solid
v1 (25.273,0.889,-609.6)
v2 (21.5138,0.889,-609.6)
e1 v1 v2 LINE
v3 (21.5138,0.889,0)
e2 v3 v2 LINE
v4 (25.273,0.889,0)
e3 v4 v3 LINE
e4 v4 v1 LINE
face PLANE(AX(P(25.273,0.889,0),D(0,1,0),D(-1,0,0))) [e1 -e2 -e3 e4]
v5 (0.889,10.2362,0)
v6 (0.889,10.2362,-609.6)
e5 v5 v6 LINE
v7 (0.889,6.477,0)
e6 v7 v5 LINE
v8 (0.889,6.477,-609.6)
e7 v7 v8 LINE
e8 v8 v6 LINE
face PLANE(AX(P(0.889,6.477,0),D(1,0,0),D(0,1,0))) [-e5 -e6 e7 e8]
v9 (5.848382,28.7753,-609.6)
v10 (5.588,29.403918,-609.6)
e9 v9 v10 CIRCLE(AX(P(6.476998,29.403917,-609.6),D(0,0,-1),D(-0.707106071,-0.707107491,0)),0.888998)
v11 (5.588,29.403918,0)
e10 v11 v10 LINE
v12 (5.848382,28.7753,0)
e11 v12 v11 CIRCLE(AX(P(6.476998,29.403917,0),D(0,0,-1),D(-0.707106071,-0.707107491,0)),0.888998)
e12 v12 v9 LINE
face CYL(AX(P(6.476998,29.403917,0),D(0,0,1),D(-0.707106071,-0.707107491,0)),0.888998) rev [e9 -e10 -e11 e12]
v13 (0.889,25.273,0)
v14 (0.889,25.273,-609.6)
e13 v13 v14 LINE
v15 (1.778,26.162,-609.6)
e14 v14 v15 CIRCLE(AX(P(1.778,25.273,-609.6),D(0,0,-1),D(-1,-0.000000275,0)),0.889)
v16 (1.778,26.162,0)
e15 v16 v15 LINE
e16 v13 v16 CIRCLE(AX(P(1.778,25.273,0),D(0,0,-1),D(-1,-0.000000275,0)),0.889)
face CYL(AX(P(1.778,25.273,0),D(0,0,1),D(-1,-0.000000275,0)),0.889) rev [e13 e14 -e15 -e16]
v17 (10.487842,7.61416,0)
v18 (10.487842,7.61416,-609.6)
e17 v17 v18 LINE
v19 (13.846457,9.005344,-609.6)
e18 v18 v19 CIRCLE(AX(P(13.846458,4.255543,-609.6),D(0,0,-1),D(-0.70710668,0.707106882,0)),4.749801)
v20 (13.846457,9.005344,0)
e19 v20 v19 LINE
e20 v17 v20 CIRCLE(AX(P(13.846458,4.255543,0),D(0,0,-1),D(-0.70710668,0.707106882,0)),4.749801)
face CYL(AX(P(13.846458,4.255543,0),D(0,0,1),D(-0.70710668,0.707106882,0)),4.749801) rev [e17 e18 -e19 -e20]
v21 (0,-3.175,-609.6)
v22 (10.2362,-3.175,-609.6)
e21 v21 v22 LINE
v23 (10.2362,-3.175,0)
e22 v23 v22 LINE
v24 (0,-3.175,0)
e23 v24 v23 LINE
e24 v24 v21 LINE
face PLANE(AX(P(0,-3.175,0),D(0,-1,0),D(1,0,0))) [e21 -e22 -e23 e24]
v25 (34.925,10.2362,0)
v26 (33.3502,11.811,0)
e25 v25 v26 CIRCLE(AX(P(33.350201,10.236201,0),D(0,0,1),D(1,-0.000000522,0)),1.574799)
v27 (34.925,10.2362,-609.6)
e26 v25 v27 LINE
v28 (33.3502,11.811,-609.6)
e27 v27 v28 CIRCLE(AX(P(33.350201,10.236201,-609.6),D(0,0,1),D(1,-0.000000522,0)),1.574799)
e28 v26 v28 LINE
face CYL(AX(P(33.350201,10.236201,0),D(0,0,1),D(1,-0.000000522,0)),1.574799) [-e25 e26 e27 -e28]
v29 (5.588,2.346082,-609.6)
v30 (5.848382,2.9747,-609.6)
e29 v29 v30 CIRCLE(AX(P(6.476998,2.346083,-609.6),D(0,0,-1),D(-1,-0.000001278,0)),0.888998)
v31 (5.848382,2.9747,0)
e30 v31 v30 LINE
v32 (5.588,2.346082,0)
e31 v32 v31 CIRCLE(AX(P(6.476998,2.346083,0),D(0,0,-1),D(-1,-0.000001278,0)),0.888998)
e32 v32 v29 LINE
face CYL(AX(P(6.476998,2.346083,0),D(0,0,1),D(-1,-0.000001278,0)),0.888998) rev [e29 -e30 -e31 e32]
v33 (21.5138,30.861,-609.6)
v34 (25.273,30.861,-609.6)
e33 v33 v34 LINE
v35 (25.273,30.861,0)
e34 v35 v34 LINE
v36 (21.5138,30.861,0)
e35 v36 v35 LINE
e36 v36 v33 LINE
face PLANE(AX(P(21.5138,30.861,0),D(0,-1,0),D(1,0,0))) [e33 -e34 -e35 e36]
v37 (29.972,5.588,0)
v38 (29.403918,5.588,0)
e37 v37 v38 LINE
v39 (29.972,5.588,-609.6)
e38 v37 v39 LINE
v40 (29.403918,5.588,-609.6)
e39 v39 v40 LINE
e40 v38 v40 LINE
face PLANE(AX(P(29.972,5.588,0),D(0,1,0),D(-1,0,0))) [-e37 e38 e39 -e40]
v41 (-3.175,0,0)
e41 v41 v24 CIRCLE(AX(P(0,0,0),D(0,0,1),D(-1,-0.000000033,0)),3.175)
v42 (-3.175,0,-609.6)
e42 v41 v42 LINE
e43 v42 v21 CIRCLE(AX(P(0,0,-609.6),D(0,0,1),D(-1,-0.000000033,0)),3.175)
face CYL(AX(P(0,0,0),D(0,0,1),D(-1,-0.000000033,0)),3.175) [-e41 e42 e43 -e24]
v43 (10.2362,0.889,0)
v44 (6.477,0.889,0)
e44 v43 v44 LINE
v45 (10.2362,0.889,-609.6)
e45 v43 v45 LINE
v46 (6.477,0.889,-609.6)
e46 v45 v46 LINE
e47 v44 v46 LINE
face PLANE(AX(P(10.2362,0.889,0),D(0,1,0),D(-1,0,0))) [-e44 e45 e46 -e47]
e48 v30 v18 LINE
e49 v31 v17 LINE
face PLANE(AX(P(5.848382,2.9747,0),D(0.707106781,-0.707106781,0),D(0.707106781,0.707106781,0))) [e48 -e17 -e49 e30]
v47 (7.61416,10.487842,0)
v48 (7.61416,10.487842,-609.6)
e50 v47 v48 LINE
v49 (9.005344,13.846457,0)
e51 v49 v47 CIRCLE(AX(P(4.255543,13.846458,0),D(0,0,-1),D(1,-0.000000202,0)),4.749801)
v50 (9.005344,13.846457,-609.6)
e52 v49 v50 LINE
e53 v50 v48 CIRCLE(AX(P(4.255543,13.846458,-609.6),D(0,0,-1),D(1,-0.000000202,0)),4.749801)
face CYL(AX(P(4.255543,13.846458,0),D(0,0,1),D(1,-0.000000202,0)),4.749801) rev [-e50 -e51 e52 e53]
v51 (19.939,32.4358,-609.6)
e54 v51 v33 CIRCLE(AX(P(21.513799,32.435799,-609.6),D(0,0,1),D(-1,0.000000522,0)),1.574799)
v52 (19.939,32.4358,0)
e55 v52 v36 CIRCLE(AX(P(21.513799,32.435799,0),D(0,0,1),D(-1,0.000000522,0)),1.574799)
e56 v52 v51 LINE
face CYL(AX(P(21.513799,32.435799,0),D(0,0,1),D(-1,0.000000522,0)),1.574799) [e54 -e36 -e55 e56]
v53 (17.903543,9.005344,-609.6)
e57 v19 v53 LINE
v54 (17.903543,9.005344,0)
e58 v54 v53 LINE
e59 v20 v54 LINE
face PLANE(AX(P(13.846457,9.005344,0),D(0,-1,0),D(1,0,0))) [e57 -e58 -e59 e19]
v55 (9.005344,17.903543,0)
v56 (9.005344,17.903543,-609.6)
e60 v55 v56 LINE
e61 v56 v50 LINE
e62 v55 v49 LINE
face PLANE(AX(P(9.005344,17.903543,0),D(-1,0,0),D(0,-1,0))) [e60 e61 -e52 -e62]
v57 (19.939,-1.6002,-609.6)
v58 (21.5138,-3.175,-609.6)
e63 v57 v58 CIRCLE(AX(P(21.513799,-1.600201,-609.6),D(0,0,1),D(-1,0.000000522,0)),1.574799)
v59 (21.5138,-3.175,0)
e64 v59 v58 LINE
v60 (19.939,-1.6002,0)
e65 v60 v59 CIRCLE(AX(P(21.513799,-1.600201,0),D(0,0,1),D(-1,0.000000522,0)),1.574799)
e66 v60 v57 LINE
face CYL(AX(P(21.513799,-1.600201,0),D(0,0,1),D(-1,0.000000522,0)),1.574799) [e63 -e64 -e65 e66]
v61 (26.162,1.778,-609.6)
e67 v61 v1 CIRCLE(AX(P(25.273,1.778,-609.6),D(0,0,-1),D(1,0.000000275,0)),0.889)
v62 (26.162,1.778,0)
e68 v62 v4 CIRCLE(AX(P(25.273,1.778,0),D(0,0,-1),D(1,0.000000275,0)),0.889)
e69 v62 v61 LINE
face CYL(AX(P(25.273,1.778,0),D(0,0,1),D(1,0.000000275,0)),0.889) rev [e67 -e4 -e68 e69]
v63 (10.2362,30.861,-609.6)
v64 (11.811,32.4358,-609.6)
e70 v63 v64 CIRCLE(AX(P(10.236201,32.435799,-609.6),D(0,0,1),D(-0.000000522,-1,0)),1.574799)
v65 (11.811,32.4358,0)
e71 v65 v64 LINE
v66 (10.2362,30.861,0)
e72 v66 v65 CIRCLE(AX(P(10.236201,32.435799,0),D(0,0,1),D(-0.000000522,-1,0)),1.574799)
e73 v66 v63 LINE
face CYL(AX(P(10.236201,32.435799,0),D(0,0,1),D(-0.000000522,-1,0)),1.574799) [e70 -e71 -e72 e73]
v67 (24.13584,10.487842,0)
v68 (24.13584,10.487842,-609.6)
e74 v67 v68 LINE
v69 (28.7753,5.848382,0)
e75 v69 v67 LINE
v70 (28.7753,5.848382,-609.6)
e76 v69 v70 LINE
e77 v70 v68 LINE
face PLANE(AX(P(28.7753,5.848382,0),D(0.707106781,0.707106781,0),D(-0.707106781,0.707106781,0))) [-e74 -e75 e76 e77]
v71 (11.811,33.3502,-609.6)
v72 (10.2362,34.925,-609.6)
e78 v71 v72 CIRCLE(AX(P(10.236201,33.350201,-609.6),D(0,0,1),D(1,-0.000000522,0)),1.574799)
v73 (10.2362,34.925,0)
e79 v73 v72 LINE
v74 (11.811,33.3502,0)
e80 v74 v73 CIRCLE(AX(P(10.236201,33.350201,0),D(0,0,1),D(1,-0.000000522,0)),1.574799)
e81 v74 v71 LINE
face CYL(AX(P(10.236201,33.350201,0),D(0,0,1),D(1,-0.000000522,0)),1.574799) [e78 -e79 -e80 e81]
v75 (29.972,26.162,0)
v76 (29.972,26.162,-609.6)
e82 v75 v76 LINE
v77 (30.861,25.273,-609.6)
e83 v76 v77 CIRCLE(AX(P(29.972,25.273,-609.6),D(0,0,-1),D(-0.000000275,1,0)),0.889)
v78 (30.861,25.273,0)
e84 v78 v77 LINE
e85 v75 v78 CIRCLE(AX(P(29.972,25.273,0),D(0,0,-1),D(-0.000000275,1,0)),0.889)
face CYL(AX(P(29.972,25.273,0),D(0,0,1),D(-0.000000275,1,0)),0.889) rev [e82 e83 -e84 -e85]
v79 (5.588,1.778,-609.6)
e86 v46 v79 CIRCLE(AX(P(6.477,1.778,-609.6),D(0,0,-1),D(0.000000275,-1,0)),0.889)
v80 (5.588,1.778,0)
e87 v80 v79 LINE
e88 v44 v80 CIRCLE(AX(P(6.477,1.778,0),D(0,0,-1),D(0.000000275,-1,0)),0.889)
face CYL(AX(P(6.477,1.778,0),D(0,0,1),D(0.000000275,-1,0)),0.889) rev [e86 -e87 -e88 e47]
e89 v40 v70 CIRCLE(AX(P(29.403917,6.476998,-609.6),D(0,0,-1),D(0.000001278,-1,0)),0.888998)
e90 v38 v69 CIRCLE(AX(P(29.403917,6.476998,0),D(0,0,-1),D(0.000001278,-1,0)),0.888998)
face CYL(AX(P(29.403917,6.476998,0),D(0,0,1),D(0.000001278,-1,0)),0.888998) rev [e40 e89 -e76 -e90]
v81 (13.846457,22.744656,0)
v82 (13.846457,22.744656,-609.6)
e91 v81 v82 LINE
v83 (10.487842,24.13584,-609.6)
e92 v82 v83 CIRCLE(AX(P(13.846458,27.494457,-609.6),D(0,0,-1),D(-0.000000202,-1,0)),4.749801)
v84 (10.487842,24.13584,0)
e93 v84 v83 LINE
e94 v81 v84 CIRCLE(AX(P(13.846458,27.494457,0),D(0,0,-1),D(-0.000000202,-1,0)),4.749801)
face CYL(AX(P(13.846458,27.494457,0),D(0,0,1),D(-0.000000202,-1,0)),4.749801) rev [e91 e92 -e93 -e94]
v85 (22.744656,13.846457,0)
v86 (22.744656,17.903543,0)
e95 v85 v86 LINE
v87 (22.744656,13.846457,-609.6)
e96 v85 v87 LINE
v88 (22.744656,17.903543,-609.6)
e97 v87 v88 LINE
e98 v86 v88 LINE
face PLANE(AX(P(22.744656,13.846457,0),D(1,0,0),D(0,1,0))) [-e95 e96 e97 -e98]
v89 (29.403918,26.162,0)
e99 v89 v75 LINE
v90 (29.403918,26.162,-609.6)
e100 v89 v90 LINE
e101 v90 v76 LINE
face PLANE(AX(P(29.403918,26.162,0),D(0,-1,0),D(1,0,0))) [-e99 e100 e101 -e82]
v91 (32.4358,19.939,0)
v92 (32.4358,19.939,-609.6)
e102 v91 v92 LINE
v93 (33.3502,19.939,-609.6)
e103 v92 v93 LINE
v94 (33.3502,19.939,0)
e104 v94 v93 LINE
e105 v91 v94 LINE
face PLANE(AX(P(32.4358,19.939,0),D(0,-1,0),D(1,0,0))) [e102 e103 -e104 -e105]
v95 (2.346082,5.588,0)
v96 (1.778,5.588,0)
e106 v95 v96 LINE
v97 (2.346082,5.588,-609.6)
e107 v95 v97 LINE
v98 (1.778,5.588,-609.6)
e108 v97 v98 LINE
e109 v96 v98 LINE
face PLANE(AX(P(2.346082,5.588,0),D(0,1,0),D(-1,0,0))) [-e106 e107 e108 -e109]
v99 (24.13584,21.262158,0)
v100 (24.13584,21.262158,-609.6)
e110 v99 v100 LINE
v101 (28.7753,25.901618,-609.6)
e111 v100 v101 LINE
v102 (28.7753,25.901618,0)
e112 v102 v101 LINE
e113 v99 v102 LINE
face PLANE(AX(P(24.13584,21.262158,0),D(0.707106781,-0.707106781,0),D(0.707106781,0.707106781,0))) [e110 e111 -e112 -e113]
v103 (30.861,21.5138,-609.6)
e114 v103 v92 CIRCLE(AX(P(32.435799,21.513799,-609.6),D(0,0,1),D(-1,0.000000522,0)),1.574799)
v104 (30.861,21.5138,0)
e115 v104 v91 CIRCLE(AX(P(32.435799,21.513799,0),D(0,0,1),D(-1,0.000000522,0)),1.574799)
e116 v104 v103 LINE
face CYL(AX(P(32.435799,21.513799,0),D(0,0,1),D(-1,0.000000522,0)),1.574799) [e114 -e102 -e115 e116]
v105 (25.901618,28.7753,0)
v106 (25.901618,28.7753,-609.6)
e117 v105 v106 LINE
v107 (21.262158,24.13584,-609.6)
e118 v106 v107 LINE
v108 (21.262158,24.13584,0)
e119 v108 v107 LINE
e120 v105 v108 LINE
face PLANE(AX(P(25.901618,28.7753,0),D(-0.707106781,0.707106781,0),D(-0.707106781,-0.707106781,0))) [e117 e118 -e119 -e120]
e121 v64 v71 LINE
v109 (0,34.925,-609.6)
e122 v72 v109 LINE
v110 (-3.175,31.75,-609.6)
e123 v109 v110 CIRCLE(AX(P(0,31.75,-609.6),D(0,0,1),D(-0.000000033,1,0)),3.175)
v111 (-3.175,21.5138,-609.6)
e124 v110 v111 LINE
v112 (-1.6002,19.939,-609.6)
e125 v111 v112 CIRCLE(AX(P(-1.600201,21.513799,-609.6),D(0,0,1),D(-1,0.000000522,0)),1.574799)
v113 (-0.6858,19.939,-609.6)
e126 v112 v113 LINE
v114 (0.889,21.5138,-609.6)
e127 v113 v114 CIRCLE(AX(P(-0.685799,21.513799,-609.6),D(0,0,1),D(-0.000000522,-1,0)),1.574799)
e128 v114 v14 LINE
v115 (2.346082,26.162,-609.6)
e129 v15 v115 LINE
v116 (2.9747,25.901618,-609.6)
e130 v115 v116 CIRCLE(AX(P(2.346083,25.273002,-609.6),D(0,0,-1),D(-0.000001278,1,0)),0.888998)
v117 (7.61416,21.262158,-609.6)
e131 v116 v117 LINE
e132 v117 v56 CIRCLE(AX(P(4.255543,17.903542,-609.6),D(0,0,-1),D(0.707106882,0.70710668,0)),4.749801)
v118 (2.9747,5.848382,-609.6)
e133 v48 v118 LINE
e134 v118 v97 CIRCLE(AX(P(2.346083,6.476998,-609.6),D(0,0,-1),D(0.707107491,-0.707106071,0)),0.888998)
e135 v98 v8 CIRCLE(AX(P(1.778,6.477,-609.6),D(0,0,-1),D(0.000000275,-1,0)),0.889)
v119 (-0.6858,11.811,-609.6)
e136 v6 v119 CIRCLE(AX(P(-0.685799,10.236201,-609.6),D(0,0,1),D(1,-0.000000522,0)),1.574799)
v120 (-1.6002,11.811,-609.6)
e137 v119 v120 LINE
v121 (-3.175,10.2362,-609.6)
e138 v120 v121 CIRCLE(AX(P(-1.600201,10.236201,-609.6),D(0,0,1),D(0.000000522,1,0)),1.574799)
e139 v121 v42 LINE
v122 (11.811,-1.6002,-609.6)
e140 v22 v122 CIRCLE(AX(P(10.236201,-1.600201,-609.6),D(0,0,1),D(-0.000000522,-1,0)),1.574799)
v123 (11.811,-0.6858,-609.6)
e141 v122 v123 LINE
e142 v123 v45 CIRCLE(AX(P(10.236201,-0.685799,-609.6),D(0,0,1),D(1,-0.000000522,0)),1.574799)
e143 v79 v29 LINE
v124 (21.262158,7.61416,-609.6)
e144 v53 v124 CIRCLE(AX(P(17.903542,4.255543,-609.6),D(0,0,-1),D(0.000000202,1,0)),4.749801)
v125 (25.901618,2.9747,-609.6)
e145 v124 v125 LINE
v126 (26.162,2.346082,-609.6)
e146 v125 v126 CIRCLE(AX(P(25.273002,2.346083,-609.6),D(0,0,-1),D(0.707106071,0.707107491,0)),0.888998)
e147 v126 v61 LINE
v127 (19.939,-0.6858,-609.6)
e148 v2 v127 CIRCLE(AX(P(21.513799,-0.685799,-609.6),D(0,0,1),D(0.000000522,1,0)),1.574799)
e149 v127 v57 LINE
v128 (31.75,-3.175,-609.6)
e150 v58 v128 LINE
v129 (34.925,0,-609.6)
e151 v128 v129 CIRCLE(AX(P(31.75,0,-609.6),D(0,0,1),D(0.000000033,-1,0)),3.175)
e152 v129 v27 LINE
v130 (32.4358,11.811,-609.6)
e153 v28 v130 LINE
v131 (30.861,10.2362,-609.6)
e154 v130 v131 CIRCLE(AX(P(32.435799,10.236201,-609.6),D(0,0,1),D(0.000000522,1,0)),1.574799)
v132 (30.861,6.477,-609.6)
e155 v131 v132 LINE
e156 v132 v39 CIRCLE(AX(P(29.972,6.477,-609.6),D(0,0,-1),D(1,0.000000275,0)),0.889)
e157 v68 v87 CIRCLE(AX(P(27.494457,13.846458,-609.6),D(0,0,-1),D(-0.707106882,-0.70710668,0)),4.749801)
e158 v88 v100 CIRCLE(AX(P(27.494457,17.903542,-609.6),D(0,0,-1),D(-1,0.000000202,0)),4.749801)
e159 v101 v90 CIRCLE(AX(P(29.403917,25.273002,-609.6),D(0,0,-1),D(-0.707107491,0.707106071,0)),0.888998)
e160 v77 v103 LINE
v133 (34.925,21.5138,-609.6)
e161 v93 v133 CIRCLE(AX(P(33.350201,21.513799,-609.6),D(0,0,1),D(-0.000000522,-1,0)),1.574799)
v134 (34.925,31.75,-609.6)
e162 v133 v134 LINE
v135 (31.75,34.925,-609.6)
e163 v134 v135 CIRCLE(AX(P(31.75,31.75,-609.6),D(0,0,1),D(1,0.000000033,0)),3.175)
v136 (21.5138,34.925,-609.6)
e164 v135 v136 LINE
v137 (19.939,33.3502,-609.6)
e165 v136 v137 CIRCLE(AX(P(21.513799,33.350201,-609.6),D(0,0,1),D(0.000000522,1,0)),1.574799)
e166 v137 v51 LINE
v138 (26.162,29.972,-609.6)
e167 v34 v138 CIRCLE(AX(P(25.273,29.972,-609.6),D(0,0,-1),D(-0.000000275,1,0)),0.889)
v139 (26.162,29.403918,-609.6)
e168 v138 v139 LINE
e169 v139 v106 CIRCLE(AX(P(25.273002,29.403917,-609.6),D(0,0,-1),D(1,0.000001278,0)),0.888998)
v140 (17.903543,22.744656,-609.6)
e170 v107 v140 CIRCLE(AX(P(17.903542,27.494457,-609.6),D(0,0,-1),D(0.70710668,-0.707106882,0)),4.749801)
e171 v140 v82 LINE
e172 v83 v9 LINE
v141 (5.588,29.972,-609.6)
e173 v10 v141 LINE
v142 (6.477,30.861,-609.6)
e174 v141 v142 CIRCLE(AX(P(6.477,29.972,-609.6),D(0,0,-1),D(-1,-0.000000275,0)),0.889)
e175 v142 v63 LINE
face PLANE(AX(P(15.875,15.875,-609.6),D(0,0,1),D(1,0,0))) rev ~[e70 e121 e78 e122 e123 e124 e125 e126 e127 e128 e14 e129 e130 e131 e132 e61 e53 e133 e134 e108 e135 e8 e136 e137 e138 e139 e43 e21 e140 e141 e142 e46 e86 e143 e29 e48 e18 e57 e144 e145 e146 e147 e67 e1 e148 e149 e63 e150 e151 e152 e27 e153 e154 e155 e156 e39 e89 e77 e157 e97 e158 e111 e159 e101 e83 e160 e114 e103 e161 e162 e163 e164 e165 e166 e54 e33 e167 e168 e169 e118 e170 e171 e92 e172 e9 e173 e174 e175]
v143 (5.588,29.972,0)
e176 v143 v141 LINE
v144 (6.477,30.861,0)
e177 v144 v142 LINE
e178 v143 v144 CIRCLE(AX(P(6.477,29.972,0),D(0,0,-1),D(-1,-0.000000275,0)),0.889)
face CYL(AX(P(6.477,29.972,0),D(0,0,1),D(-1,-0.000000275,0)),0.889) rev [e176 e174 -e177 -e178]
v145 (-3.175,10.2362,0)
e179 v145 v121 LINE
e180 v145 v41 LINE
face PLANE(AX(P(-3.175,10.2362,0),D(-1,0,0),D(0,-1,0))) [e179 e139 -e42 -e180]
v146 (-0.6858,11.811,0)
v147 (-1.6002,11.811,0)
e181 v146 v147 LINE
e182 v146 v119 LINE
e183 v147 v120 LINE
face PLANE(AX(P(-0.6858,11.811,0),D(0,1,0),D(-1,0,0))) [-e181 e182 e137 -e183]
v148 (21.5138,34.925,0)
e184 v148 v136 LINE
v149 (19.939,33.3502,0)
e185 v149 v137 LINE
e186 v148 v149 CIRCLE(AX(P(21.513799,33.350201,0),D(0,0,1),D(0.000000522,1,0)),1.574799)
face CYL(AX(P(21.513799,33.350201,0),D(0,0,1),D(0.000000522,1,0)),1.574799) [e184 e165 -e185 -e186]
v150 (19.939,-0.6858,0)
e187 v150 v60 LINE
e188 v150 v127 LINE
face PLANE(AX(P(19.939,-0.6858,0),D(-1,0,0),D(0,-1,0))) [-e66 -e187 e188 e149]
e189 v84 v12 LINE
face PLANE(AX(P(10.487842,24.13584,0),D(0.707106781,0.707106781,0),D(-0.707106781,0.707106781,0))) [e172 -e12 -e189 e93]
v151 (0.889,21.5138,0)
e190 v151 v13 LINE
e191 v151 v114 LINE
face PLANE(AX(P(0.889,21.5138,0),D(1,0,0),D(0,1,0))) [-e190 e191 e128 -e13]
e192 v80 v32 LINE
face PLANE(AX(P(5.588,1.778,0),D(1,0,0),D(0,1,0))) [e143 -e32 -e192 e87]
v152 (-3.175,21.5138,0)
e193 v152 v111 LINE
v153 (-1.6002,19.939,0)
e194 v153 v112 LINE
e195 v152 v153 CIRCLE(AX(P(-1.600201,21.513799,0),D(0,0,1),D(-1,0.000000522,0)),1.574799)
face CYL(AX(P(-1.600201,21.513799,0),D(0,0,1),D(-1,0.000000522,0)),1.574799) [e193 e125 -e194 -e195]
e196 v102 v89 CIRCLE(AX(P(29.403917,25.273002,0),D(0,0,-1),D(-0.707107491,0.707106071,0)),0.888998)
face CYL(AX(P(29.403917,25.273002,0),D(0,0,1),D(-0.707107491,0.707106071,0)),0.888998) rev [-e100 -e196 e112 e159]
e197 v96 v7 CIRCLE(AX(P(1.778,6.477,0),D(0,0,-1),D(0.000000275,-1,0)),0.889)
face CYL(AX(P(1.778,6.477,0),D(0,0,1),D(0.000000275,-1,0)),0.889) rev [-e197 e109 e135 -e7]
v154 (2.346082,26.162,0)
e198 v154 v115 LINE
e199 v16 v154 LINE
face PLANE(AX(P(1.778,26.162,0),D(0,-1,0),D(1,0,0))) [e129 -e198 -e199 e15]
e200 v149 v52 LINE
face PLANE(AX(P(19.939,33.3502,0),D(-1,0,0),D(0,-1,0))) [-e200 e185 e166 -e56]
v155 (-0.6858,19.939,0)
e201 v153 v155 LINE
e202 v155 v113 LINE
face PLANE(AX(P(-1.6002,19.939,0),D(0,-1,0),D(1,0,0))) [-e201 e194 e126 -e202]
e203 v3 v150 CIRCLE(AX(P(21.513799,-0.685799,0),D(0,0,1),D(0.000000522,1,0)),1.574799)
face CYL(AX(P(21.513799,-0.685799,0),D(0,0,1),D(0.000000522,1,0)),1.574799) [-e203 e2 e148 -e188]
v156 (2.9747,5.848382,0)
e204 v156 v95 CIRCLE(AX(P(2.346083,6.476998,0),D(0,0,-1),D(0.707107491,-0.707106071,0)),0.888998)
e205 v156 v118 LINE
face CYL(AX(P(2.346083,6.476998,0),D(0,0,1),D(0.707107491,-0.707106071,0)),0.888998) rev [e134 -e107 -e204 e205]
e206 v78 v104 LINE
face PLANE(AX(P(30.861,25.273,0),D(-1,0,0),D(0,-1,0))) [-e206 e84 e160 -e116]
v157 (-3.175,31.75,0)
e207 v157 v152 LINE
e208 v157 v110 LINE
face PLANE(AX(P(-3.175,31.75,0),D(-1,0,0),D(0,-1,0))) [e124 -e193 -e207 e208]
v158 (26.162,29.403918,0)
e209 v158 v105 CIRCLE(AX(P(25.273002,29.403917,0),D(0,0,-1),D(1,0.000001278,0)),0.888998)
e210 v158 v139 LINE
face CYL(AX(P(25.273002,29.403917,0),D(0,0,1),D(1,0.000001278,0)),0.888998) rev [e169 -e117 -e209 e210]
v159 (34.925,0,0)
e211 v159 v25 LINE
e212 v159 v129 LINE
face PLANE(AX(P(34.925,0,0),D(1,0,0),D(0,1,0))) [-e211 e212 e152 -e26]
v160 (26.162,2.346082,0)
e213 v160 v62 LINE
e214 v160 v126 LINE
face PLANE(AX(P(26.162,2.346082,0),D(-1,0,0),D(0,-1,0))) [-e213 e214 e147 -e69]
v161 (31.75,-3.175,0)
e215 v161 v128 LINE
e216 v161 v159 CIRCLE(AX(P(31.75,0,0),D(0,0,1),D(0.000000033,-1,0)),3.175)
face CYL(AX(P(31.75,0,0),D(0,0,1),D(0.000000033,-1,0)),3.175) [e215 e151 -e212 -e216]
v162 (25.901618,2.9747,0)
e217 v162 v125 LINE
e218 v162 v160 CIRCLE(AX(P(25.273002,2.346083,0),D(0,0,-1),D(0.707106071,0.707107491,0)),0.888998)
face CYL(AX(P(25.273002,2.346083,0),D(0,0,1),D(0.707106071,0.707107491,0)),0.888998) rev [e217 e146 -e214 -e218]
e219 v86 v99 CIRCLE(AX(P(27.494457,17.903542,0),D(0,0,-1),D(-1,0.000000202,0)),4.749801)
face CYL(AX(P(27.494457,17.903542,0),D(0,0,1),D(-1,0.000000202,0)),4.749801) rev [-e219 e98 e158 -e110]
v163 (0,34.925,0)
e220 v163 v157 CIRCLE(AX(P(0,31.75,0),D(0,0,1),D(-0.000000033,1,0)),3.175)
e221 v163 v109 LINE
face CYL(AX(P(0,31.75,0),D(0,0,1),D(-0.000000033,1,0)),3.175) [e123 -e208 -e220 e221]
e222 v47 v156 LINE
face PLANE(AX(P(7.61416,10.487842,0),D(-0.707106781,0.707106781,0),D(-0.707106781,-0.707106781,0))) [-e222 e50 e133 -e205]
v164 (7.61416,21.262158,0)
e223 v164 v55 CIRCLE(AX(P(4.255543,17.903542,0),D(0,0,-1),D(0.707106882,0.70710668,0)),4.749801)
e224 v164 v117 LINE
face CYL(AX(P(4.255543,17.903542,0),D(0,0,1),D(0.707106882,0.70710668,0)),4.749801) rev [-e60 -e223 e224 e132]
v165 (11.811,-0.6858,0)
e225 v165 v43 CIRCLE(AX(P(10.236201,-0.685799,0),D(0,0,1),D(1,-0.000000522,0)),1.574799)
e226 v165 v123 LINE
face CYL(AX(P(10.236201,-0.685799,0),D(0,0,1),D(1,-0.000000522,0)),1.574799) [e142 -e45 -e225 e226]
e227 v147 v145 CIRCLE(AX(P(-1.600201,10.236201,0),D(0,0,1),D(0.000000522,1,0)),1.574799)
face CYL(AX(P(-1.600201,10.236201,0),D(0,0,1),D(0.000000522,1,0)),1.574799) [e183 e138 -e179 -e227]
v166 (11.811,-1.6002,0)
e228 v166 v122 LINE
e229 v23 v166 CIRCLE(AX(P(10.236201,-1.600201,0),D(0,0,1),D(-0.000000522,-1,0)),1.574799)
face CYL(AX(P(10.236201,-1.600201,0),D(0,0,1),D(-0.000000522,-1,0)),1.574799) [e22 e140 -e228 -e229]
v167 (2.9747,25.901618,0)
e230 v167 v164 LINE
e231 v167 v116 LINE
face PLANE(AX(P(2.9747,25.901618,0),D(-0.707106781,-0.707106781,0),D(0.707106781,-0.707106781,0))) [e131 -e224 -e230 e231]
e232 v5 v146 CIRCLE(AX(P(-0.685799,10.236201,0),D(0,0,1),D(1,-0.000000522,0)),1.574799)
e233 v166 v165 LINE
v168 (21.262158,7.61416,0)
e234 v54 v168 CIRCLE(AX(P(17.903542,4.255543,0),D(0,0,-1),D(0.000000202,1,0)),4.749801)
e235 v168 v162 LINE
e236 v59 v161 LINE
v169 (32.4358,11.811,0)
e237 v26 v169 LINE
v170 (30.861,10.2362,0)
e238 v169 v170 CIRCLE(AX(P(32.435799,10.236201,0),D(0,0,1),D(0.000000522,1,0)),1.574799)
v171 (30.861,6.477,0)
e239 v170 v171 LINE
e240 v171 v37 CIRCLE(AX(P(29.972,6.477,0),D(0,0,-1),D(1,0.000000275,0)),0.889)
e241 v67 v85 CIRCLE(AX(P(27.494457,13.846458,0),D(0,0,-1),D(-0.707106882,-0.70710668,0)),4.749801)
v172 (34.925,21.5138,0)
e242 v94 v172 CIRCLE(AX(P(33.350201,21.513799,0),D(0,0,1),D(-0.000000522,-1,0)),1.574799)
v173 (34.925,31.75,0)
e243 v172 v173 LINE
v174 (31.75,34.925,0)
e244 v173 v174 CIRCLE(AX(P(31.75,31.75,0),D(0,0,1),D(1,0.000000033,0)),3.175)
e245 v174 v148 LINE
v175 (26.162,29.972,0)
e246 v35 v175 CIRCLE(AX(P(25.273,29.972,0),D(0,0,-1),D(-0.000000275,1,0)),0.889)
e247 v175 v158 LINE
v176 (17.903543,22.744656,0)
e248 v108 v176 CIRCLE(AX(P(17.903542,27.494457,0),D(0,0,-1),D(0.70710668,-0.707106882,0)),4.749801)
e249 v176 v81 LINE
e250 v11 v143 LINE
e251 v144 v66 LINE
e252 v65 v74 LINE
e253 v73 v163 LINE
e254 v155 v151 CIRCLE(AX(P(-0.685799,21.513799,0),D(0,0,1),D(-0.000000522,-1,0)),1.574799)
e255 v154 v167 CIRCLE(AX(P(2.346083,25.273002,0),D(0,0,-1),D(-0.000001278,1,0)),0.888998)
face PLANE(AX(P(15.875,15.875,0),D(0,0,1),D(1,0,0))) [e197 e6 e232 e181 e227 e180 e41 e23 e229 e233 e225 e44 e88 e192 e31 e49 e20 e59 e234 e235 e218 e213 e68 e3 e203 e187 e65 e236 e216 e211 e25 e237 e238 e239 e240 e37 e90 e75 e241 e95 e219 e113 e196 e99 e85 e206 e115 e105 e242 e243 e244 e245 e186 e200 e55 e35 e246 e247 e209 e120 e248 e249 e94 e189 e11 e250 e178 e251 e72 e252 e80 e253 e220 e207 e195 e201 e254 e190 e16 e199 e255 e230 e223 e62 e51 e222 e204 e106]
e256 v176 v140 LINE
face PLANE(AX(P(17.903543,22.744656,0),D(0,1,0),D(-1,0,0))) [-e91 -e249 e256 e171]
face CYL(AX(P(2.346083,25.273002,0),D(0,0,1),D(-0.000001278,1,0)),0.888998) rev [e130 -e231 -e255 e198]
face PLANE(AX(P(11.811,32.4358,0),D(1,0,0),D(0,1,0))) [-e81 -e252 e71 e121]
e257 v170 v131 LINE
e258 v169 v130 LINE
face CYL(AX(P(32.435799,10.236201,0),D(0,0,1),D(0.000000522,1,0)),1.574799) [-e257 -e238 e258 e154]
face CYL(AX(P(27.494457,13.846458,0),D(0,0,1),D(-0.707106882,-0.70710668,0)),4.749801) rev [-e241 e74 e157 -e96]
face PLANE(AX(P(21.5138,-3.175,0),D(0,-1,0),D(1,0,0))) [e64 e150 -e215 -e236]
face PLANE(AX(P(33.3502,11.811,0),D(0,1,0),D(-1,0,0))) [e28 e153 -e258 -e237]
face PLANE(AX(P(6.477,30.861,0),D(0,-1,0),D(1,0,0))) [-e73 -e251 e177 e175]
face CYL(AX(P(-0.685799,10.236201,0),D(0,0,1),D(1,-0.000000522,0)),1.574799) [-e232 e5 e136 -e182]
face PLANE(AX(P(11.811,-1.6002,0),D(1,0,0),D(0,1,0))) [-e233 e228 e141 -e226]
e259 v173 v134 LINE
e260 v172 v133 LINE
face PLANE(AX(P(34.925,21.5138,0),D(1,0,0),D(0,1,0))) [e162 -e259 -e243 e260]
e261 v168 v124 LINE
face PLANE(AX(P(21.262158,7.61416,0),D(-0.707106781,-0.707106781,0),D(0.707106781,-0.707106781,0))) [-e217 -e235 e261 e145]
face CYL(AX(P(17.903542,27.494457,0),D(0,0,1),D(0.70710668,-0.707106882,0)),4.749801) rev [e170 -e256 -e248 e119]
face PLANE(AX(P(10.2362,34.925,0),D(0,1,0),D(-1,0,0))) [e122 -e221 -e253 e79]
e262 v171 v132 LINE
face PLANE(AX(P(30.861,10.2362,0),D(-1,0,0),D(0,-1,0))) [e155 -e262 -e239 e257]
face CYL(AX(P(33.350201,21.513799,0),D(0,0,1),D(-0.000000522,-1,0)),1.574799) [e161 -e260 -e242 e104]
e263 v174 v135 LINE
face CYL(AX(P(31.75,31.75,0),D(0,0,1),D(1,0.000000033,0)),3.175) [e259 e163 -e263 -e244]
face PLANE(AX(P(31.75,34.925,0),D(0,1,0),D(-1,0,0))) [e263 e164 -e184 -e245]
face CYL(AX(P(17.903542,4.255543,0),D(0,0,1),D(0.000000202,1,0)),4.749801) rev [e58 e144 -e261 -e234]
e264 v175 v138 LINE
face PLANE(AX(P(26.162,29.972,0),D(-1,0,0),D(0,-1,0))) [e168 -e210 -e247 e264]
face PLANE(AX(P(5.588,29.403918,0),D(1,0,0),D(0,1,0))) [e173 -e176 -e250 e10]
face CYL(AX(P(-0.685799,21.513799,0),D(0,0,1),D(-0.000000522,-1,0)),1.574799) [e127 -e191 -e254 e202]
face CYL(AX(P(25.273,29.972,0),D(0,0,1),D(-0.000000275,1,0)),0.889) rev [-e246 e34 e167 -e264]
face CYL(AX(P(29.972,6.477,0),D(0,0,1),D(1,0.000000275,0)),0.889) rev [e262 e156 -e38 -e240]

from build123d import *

# Parameters (mm, degrees)
F1_DEPTH = 609.6


with BuildPart() as f1:
    # F0 (on Top) → F1 (new body)
    with BuildSketch(Plane.XY):
        with BuildLine():
            ThreePointArc((0, 34.925), (-2.245064, 33.995064), (-3.175, 31.75))
            Line((-3.175, 31.75), (-3.175, 21.5138))
            ThreePointArc((-3.175, 21.5138), (-2.713752, 20.400248), (-1.6002, 19.939))
            Line((-1.6002, 19.939), (-0.6858, 19.939))
            ThreePointArc((-0.6858, 19.939), (0.427752, 20.400248), (0.889, 21.5138))
            Line((0.889, 21.5138), (0.889, 25.273))
            ThreePointArc((0.889, 25.273), (1.149382, 25.901618), (1.778, 26.162))
            Line((1.778, 26.162), (2.346082, 26.162))
            ThreePointArc((2.346082, 26.162), (2.686288, 26.094329), (2.9747, 25.901618))
            Line((2.9747, 25.901618), (7.61416, 21.262158))
            ThreePointArc((7.61416, 21.262158), (8.643787, 19.721212), (9.005344, 17.903543))
            Line((9.005344, 17.903543), (9.005344, 13.846457))
            ThreePointArc((9.005344, 13.846457), (8.643787, 12.028788), (7.61416, 10.487842))
            Line((7.61416, 10.487842), (2.9747, 5.848382))
            ThreePointArc((2.9747, 5.848382), (2.686288, 5.655671), (2.346082, 5.588))
            Line((2.346082, 5.588), (1.778, 5.588))
            ThreePointArc((1.778, 5.588), (1.149382, 5.848382), (0.889, 6.477))
            Line((0.889, 6.477), (0.889, 10.2362))
            ThreePointArc((0.889, 10.2362), (0.427752, 11.349752), (-0.6858, 11.811))
            Line((-0.6858, 11.811), (-1.6002, 11.811))
            ThreePointArc((-1.6002, 11.811), (-2.713752, 11.349752), (-3.175, 10.2362))
            Line((-3.175, 10.2362), (-3.175, 0))
            ThreePointArc((-3.175, 0), (-2.245064, -2.245064), (0, -3.175))
            Line((0, -3.175), (10.2362, -3.175))
            ThreePointArc((10.2362, -3.175), (11.349752, -2.713752), (11.811, -1.6002))
            Line((11.811, -1.6002), (11.811, -0.6858))
            ThreePointArc((11.811, -0.6858), (11.349752, 0.427752), (10.2362, 0.889))
            Line((10.2362, 0.889), (6.477, 0.889))
            ThreePointArc((6.477, 0.889), (5.848382, 1.149382), (5.588, 1.778))
            Line((5.588, 1.778), (5.588, 2.346082))
            ThreePointArc((5.588, 2.346082), (5.655671, 2.686288), (5.848382, 2.9747))
            Line((5.848382, 2.9747), (10.487842, 7.61416))
            ThreePointArc((10.487842, 7.61416), (12.028788, 8.643787), (13.846457, 9.005344))
            Line((13.846457, 9.005344), (17.903543, 9.005344))
            ThreePointArc((17.903543, 9.005344), (19.721212, 8.643787), (21.262158, 7.61416))
            Line((21.262158, 7.61416), (25.901618, 2.9747))
            ThreePointArc((25.901618, 2.9747), (26.094329, 2.686288), (26.162, 2.346082))
            Line((26.162, 2.346082), (26.162, 1.778))
            ThreePointArc((26.162, 1.778), (25.901618, 1.149382), (25.273, 0.889))
            Line((25.273, 0.889), (21.5138, 0.889))
            ThreePointArc((21.5138, 0.889), (20.400248, 0.427752), (19.939, -0.6858))
            Line((19.939, -0.6858), (19.939, -1.6002))
            ThreePointArc((19.939, -1.6002), (20.400248, -2.713752), (21.5138, -3.175))
            Line((21.5138, -3.175), (31.75, -3.175))
            ThreePointArc((31.75, -3.175), (33.995064, -2.245064), (34.925, 0))
            Line((34.925, 0), (34.925, 10.2362))
            ThreePointArc((34.925, 10.2362), (34.463752, 11.349752), (33.3502, 11.811))
            Line((33.3502, 11.811), (32.4358, 11.811))
            ThreePointArc((32.4358, 11.811), (31.322248, 11.349752), (30.861, 10.2362))
            Line((30.861, 10.2362), (30.861, 6.477))
            ThreePointArc((30.861, 6.477), (30.600618, 5.848382), (29.972, 5.588))
            Line((29.972, 5.588), (29.403918, 5.588))
            ThreePointArc((29.403918, 5.588), (29.063712, 5.655671), (28.7753, 5.848382))
            Line((28.7753, 5.848382), (24.13584, 10.487842))
            ThreePointArc((24.13584, 10.487842), (23.106213, 12.028788), (22.744656, 13.846457))
            Line((22.744656, 13.846457), (22.744656, 17.903543))
            ThreePointArc((22.744656, 17.903543), (23.106213, 19.721212), (24.13584, 21.262158))
            Line((24.13584, 21.262158), (28.7753, 25.901618))
            ThreePointArc((28.7753, 25.901618), (29.063712, 26.094329), (29.403918, 26.162))
            Line((29.403918, 26.162), (29.972, 26.162))
            ThreePointArc((29.972, 26.162), (30.600618, 25.901618), (30.861, 25.273))
            Line((30.861, 25.273), (30.861, 21.5138))
            ThreePointArc((30.861, 21.5138), (31.322248, 20.400248), (32.4358, 19.939))
            Line((32.4358, 19.939), (33.3502, 19.939))
            ThreePointArc((33.3502, 19.939), (34.463752, 20.400248), (34.925, 21.5138))
            Line((34.925, 21.5138), (34.925, 31.75))
            ThreePointArc((34.925, 31.75), (33.995064, 33.995064), (31.75, 34.925))
            Line((31.75, 34.925), (21.5138, 34.925))
            ThreePointArc((21.5138, 34.925), (20.400248, 34.463752), (19.939, 33.3502))
            Line((19.939, 33.3502), (19.939, 32.4358))
            ThreePointArc((19.939, 32.4358), (20.400248, 31.322248), (21.5138, 30.861))
            Line((21.5138, 30.861), (25.273, 30.861))
            ThreePointArc((25.273, 30.861), (25.901618, 30.600618), (26.162, 29.972))
            Line((26.162, 29.972), (26.162, 29.403918))
            ThreePointArc((26.162, 29.403918), (26.094329, 29.063712), (25.901618, 28.7753))
            Line((25.901618, 28.7753), (21.262158, 24.13584))
            ThreePointArc((21.262158, 24.13584), (19.721212, 23.106213), (17.903543, 22.744656))
            Line((17.903543, 22.744656), (13.846457, 22.744656))
            ThreePointArc((13.846457, 22.744656), (12.028788, 23.106213), (10.487842, 24.13584))
            Line((10.487842, 24.13584), (5.848382, 28.7753))
            ThreePointArc((5.848382, 28.7753), (5.655671, 29.063712), (5.588, 29.403918))
            Line((5.588, 29.403918), (5.588, 29.972))
            ThreePointArc((5.588, 29.972), (5.848382, 30.600618), (6.477, 30.861))
            Line((6.477, 30.861), (10.2362, 30.861))
            ThreePointArc((10.2362, 30.861), (11.349752, 31.322248), (11.811, 32.4358))
            Line((11.811, 32.4358), (11.811, 33.3502))
            ThreePointArc((11.811, 33.3502), (11.349752, 34.463752), (10.2362, 34.925))
            Line((10.2362, 34.925), (0, 34.925))
        make_face()
    extrude(amount=-F1_DEPTH)


solid = f1.part
